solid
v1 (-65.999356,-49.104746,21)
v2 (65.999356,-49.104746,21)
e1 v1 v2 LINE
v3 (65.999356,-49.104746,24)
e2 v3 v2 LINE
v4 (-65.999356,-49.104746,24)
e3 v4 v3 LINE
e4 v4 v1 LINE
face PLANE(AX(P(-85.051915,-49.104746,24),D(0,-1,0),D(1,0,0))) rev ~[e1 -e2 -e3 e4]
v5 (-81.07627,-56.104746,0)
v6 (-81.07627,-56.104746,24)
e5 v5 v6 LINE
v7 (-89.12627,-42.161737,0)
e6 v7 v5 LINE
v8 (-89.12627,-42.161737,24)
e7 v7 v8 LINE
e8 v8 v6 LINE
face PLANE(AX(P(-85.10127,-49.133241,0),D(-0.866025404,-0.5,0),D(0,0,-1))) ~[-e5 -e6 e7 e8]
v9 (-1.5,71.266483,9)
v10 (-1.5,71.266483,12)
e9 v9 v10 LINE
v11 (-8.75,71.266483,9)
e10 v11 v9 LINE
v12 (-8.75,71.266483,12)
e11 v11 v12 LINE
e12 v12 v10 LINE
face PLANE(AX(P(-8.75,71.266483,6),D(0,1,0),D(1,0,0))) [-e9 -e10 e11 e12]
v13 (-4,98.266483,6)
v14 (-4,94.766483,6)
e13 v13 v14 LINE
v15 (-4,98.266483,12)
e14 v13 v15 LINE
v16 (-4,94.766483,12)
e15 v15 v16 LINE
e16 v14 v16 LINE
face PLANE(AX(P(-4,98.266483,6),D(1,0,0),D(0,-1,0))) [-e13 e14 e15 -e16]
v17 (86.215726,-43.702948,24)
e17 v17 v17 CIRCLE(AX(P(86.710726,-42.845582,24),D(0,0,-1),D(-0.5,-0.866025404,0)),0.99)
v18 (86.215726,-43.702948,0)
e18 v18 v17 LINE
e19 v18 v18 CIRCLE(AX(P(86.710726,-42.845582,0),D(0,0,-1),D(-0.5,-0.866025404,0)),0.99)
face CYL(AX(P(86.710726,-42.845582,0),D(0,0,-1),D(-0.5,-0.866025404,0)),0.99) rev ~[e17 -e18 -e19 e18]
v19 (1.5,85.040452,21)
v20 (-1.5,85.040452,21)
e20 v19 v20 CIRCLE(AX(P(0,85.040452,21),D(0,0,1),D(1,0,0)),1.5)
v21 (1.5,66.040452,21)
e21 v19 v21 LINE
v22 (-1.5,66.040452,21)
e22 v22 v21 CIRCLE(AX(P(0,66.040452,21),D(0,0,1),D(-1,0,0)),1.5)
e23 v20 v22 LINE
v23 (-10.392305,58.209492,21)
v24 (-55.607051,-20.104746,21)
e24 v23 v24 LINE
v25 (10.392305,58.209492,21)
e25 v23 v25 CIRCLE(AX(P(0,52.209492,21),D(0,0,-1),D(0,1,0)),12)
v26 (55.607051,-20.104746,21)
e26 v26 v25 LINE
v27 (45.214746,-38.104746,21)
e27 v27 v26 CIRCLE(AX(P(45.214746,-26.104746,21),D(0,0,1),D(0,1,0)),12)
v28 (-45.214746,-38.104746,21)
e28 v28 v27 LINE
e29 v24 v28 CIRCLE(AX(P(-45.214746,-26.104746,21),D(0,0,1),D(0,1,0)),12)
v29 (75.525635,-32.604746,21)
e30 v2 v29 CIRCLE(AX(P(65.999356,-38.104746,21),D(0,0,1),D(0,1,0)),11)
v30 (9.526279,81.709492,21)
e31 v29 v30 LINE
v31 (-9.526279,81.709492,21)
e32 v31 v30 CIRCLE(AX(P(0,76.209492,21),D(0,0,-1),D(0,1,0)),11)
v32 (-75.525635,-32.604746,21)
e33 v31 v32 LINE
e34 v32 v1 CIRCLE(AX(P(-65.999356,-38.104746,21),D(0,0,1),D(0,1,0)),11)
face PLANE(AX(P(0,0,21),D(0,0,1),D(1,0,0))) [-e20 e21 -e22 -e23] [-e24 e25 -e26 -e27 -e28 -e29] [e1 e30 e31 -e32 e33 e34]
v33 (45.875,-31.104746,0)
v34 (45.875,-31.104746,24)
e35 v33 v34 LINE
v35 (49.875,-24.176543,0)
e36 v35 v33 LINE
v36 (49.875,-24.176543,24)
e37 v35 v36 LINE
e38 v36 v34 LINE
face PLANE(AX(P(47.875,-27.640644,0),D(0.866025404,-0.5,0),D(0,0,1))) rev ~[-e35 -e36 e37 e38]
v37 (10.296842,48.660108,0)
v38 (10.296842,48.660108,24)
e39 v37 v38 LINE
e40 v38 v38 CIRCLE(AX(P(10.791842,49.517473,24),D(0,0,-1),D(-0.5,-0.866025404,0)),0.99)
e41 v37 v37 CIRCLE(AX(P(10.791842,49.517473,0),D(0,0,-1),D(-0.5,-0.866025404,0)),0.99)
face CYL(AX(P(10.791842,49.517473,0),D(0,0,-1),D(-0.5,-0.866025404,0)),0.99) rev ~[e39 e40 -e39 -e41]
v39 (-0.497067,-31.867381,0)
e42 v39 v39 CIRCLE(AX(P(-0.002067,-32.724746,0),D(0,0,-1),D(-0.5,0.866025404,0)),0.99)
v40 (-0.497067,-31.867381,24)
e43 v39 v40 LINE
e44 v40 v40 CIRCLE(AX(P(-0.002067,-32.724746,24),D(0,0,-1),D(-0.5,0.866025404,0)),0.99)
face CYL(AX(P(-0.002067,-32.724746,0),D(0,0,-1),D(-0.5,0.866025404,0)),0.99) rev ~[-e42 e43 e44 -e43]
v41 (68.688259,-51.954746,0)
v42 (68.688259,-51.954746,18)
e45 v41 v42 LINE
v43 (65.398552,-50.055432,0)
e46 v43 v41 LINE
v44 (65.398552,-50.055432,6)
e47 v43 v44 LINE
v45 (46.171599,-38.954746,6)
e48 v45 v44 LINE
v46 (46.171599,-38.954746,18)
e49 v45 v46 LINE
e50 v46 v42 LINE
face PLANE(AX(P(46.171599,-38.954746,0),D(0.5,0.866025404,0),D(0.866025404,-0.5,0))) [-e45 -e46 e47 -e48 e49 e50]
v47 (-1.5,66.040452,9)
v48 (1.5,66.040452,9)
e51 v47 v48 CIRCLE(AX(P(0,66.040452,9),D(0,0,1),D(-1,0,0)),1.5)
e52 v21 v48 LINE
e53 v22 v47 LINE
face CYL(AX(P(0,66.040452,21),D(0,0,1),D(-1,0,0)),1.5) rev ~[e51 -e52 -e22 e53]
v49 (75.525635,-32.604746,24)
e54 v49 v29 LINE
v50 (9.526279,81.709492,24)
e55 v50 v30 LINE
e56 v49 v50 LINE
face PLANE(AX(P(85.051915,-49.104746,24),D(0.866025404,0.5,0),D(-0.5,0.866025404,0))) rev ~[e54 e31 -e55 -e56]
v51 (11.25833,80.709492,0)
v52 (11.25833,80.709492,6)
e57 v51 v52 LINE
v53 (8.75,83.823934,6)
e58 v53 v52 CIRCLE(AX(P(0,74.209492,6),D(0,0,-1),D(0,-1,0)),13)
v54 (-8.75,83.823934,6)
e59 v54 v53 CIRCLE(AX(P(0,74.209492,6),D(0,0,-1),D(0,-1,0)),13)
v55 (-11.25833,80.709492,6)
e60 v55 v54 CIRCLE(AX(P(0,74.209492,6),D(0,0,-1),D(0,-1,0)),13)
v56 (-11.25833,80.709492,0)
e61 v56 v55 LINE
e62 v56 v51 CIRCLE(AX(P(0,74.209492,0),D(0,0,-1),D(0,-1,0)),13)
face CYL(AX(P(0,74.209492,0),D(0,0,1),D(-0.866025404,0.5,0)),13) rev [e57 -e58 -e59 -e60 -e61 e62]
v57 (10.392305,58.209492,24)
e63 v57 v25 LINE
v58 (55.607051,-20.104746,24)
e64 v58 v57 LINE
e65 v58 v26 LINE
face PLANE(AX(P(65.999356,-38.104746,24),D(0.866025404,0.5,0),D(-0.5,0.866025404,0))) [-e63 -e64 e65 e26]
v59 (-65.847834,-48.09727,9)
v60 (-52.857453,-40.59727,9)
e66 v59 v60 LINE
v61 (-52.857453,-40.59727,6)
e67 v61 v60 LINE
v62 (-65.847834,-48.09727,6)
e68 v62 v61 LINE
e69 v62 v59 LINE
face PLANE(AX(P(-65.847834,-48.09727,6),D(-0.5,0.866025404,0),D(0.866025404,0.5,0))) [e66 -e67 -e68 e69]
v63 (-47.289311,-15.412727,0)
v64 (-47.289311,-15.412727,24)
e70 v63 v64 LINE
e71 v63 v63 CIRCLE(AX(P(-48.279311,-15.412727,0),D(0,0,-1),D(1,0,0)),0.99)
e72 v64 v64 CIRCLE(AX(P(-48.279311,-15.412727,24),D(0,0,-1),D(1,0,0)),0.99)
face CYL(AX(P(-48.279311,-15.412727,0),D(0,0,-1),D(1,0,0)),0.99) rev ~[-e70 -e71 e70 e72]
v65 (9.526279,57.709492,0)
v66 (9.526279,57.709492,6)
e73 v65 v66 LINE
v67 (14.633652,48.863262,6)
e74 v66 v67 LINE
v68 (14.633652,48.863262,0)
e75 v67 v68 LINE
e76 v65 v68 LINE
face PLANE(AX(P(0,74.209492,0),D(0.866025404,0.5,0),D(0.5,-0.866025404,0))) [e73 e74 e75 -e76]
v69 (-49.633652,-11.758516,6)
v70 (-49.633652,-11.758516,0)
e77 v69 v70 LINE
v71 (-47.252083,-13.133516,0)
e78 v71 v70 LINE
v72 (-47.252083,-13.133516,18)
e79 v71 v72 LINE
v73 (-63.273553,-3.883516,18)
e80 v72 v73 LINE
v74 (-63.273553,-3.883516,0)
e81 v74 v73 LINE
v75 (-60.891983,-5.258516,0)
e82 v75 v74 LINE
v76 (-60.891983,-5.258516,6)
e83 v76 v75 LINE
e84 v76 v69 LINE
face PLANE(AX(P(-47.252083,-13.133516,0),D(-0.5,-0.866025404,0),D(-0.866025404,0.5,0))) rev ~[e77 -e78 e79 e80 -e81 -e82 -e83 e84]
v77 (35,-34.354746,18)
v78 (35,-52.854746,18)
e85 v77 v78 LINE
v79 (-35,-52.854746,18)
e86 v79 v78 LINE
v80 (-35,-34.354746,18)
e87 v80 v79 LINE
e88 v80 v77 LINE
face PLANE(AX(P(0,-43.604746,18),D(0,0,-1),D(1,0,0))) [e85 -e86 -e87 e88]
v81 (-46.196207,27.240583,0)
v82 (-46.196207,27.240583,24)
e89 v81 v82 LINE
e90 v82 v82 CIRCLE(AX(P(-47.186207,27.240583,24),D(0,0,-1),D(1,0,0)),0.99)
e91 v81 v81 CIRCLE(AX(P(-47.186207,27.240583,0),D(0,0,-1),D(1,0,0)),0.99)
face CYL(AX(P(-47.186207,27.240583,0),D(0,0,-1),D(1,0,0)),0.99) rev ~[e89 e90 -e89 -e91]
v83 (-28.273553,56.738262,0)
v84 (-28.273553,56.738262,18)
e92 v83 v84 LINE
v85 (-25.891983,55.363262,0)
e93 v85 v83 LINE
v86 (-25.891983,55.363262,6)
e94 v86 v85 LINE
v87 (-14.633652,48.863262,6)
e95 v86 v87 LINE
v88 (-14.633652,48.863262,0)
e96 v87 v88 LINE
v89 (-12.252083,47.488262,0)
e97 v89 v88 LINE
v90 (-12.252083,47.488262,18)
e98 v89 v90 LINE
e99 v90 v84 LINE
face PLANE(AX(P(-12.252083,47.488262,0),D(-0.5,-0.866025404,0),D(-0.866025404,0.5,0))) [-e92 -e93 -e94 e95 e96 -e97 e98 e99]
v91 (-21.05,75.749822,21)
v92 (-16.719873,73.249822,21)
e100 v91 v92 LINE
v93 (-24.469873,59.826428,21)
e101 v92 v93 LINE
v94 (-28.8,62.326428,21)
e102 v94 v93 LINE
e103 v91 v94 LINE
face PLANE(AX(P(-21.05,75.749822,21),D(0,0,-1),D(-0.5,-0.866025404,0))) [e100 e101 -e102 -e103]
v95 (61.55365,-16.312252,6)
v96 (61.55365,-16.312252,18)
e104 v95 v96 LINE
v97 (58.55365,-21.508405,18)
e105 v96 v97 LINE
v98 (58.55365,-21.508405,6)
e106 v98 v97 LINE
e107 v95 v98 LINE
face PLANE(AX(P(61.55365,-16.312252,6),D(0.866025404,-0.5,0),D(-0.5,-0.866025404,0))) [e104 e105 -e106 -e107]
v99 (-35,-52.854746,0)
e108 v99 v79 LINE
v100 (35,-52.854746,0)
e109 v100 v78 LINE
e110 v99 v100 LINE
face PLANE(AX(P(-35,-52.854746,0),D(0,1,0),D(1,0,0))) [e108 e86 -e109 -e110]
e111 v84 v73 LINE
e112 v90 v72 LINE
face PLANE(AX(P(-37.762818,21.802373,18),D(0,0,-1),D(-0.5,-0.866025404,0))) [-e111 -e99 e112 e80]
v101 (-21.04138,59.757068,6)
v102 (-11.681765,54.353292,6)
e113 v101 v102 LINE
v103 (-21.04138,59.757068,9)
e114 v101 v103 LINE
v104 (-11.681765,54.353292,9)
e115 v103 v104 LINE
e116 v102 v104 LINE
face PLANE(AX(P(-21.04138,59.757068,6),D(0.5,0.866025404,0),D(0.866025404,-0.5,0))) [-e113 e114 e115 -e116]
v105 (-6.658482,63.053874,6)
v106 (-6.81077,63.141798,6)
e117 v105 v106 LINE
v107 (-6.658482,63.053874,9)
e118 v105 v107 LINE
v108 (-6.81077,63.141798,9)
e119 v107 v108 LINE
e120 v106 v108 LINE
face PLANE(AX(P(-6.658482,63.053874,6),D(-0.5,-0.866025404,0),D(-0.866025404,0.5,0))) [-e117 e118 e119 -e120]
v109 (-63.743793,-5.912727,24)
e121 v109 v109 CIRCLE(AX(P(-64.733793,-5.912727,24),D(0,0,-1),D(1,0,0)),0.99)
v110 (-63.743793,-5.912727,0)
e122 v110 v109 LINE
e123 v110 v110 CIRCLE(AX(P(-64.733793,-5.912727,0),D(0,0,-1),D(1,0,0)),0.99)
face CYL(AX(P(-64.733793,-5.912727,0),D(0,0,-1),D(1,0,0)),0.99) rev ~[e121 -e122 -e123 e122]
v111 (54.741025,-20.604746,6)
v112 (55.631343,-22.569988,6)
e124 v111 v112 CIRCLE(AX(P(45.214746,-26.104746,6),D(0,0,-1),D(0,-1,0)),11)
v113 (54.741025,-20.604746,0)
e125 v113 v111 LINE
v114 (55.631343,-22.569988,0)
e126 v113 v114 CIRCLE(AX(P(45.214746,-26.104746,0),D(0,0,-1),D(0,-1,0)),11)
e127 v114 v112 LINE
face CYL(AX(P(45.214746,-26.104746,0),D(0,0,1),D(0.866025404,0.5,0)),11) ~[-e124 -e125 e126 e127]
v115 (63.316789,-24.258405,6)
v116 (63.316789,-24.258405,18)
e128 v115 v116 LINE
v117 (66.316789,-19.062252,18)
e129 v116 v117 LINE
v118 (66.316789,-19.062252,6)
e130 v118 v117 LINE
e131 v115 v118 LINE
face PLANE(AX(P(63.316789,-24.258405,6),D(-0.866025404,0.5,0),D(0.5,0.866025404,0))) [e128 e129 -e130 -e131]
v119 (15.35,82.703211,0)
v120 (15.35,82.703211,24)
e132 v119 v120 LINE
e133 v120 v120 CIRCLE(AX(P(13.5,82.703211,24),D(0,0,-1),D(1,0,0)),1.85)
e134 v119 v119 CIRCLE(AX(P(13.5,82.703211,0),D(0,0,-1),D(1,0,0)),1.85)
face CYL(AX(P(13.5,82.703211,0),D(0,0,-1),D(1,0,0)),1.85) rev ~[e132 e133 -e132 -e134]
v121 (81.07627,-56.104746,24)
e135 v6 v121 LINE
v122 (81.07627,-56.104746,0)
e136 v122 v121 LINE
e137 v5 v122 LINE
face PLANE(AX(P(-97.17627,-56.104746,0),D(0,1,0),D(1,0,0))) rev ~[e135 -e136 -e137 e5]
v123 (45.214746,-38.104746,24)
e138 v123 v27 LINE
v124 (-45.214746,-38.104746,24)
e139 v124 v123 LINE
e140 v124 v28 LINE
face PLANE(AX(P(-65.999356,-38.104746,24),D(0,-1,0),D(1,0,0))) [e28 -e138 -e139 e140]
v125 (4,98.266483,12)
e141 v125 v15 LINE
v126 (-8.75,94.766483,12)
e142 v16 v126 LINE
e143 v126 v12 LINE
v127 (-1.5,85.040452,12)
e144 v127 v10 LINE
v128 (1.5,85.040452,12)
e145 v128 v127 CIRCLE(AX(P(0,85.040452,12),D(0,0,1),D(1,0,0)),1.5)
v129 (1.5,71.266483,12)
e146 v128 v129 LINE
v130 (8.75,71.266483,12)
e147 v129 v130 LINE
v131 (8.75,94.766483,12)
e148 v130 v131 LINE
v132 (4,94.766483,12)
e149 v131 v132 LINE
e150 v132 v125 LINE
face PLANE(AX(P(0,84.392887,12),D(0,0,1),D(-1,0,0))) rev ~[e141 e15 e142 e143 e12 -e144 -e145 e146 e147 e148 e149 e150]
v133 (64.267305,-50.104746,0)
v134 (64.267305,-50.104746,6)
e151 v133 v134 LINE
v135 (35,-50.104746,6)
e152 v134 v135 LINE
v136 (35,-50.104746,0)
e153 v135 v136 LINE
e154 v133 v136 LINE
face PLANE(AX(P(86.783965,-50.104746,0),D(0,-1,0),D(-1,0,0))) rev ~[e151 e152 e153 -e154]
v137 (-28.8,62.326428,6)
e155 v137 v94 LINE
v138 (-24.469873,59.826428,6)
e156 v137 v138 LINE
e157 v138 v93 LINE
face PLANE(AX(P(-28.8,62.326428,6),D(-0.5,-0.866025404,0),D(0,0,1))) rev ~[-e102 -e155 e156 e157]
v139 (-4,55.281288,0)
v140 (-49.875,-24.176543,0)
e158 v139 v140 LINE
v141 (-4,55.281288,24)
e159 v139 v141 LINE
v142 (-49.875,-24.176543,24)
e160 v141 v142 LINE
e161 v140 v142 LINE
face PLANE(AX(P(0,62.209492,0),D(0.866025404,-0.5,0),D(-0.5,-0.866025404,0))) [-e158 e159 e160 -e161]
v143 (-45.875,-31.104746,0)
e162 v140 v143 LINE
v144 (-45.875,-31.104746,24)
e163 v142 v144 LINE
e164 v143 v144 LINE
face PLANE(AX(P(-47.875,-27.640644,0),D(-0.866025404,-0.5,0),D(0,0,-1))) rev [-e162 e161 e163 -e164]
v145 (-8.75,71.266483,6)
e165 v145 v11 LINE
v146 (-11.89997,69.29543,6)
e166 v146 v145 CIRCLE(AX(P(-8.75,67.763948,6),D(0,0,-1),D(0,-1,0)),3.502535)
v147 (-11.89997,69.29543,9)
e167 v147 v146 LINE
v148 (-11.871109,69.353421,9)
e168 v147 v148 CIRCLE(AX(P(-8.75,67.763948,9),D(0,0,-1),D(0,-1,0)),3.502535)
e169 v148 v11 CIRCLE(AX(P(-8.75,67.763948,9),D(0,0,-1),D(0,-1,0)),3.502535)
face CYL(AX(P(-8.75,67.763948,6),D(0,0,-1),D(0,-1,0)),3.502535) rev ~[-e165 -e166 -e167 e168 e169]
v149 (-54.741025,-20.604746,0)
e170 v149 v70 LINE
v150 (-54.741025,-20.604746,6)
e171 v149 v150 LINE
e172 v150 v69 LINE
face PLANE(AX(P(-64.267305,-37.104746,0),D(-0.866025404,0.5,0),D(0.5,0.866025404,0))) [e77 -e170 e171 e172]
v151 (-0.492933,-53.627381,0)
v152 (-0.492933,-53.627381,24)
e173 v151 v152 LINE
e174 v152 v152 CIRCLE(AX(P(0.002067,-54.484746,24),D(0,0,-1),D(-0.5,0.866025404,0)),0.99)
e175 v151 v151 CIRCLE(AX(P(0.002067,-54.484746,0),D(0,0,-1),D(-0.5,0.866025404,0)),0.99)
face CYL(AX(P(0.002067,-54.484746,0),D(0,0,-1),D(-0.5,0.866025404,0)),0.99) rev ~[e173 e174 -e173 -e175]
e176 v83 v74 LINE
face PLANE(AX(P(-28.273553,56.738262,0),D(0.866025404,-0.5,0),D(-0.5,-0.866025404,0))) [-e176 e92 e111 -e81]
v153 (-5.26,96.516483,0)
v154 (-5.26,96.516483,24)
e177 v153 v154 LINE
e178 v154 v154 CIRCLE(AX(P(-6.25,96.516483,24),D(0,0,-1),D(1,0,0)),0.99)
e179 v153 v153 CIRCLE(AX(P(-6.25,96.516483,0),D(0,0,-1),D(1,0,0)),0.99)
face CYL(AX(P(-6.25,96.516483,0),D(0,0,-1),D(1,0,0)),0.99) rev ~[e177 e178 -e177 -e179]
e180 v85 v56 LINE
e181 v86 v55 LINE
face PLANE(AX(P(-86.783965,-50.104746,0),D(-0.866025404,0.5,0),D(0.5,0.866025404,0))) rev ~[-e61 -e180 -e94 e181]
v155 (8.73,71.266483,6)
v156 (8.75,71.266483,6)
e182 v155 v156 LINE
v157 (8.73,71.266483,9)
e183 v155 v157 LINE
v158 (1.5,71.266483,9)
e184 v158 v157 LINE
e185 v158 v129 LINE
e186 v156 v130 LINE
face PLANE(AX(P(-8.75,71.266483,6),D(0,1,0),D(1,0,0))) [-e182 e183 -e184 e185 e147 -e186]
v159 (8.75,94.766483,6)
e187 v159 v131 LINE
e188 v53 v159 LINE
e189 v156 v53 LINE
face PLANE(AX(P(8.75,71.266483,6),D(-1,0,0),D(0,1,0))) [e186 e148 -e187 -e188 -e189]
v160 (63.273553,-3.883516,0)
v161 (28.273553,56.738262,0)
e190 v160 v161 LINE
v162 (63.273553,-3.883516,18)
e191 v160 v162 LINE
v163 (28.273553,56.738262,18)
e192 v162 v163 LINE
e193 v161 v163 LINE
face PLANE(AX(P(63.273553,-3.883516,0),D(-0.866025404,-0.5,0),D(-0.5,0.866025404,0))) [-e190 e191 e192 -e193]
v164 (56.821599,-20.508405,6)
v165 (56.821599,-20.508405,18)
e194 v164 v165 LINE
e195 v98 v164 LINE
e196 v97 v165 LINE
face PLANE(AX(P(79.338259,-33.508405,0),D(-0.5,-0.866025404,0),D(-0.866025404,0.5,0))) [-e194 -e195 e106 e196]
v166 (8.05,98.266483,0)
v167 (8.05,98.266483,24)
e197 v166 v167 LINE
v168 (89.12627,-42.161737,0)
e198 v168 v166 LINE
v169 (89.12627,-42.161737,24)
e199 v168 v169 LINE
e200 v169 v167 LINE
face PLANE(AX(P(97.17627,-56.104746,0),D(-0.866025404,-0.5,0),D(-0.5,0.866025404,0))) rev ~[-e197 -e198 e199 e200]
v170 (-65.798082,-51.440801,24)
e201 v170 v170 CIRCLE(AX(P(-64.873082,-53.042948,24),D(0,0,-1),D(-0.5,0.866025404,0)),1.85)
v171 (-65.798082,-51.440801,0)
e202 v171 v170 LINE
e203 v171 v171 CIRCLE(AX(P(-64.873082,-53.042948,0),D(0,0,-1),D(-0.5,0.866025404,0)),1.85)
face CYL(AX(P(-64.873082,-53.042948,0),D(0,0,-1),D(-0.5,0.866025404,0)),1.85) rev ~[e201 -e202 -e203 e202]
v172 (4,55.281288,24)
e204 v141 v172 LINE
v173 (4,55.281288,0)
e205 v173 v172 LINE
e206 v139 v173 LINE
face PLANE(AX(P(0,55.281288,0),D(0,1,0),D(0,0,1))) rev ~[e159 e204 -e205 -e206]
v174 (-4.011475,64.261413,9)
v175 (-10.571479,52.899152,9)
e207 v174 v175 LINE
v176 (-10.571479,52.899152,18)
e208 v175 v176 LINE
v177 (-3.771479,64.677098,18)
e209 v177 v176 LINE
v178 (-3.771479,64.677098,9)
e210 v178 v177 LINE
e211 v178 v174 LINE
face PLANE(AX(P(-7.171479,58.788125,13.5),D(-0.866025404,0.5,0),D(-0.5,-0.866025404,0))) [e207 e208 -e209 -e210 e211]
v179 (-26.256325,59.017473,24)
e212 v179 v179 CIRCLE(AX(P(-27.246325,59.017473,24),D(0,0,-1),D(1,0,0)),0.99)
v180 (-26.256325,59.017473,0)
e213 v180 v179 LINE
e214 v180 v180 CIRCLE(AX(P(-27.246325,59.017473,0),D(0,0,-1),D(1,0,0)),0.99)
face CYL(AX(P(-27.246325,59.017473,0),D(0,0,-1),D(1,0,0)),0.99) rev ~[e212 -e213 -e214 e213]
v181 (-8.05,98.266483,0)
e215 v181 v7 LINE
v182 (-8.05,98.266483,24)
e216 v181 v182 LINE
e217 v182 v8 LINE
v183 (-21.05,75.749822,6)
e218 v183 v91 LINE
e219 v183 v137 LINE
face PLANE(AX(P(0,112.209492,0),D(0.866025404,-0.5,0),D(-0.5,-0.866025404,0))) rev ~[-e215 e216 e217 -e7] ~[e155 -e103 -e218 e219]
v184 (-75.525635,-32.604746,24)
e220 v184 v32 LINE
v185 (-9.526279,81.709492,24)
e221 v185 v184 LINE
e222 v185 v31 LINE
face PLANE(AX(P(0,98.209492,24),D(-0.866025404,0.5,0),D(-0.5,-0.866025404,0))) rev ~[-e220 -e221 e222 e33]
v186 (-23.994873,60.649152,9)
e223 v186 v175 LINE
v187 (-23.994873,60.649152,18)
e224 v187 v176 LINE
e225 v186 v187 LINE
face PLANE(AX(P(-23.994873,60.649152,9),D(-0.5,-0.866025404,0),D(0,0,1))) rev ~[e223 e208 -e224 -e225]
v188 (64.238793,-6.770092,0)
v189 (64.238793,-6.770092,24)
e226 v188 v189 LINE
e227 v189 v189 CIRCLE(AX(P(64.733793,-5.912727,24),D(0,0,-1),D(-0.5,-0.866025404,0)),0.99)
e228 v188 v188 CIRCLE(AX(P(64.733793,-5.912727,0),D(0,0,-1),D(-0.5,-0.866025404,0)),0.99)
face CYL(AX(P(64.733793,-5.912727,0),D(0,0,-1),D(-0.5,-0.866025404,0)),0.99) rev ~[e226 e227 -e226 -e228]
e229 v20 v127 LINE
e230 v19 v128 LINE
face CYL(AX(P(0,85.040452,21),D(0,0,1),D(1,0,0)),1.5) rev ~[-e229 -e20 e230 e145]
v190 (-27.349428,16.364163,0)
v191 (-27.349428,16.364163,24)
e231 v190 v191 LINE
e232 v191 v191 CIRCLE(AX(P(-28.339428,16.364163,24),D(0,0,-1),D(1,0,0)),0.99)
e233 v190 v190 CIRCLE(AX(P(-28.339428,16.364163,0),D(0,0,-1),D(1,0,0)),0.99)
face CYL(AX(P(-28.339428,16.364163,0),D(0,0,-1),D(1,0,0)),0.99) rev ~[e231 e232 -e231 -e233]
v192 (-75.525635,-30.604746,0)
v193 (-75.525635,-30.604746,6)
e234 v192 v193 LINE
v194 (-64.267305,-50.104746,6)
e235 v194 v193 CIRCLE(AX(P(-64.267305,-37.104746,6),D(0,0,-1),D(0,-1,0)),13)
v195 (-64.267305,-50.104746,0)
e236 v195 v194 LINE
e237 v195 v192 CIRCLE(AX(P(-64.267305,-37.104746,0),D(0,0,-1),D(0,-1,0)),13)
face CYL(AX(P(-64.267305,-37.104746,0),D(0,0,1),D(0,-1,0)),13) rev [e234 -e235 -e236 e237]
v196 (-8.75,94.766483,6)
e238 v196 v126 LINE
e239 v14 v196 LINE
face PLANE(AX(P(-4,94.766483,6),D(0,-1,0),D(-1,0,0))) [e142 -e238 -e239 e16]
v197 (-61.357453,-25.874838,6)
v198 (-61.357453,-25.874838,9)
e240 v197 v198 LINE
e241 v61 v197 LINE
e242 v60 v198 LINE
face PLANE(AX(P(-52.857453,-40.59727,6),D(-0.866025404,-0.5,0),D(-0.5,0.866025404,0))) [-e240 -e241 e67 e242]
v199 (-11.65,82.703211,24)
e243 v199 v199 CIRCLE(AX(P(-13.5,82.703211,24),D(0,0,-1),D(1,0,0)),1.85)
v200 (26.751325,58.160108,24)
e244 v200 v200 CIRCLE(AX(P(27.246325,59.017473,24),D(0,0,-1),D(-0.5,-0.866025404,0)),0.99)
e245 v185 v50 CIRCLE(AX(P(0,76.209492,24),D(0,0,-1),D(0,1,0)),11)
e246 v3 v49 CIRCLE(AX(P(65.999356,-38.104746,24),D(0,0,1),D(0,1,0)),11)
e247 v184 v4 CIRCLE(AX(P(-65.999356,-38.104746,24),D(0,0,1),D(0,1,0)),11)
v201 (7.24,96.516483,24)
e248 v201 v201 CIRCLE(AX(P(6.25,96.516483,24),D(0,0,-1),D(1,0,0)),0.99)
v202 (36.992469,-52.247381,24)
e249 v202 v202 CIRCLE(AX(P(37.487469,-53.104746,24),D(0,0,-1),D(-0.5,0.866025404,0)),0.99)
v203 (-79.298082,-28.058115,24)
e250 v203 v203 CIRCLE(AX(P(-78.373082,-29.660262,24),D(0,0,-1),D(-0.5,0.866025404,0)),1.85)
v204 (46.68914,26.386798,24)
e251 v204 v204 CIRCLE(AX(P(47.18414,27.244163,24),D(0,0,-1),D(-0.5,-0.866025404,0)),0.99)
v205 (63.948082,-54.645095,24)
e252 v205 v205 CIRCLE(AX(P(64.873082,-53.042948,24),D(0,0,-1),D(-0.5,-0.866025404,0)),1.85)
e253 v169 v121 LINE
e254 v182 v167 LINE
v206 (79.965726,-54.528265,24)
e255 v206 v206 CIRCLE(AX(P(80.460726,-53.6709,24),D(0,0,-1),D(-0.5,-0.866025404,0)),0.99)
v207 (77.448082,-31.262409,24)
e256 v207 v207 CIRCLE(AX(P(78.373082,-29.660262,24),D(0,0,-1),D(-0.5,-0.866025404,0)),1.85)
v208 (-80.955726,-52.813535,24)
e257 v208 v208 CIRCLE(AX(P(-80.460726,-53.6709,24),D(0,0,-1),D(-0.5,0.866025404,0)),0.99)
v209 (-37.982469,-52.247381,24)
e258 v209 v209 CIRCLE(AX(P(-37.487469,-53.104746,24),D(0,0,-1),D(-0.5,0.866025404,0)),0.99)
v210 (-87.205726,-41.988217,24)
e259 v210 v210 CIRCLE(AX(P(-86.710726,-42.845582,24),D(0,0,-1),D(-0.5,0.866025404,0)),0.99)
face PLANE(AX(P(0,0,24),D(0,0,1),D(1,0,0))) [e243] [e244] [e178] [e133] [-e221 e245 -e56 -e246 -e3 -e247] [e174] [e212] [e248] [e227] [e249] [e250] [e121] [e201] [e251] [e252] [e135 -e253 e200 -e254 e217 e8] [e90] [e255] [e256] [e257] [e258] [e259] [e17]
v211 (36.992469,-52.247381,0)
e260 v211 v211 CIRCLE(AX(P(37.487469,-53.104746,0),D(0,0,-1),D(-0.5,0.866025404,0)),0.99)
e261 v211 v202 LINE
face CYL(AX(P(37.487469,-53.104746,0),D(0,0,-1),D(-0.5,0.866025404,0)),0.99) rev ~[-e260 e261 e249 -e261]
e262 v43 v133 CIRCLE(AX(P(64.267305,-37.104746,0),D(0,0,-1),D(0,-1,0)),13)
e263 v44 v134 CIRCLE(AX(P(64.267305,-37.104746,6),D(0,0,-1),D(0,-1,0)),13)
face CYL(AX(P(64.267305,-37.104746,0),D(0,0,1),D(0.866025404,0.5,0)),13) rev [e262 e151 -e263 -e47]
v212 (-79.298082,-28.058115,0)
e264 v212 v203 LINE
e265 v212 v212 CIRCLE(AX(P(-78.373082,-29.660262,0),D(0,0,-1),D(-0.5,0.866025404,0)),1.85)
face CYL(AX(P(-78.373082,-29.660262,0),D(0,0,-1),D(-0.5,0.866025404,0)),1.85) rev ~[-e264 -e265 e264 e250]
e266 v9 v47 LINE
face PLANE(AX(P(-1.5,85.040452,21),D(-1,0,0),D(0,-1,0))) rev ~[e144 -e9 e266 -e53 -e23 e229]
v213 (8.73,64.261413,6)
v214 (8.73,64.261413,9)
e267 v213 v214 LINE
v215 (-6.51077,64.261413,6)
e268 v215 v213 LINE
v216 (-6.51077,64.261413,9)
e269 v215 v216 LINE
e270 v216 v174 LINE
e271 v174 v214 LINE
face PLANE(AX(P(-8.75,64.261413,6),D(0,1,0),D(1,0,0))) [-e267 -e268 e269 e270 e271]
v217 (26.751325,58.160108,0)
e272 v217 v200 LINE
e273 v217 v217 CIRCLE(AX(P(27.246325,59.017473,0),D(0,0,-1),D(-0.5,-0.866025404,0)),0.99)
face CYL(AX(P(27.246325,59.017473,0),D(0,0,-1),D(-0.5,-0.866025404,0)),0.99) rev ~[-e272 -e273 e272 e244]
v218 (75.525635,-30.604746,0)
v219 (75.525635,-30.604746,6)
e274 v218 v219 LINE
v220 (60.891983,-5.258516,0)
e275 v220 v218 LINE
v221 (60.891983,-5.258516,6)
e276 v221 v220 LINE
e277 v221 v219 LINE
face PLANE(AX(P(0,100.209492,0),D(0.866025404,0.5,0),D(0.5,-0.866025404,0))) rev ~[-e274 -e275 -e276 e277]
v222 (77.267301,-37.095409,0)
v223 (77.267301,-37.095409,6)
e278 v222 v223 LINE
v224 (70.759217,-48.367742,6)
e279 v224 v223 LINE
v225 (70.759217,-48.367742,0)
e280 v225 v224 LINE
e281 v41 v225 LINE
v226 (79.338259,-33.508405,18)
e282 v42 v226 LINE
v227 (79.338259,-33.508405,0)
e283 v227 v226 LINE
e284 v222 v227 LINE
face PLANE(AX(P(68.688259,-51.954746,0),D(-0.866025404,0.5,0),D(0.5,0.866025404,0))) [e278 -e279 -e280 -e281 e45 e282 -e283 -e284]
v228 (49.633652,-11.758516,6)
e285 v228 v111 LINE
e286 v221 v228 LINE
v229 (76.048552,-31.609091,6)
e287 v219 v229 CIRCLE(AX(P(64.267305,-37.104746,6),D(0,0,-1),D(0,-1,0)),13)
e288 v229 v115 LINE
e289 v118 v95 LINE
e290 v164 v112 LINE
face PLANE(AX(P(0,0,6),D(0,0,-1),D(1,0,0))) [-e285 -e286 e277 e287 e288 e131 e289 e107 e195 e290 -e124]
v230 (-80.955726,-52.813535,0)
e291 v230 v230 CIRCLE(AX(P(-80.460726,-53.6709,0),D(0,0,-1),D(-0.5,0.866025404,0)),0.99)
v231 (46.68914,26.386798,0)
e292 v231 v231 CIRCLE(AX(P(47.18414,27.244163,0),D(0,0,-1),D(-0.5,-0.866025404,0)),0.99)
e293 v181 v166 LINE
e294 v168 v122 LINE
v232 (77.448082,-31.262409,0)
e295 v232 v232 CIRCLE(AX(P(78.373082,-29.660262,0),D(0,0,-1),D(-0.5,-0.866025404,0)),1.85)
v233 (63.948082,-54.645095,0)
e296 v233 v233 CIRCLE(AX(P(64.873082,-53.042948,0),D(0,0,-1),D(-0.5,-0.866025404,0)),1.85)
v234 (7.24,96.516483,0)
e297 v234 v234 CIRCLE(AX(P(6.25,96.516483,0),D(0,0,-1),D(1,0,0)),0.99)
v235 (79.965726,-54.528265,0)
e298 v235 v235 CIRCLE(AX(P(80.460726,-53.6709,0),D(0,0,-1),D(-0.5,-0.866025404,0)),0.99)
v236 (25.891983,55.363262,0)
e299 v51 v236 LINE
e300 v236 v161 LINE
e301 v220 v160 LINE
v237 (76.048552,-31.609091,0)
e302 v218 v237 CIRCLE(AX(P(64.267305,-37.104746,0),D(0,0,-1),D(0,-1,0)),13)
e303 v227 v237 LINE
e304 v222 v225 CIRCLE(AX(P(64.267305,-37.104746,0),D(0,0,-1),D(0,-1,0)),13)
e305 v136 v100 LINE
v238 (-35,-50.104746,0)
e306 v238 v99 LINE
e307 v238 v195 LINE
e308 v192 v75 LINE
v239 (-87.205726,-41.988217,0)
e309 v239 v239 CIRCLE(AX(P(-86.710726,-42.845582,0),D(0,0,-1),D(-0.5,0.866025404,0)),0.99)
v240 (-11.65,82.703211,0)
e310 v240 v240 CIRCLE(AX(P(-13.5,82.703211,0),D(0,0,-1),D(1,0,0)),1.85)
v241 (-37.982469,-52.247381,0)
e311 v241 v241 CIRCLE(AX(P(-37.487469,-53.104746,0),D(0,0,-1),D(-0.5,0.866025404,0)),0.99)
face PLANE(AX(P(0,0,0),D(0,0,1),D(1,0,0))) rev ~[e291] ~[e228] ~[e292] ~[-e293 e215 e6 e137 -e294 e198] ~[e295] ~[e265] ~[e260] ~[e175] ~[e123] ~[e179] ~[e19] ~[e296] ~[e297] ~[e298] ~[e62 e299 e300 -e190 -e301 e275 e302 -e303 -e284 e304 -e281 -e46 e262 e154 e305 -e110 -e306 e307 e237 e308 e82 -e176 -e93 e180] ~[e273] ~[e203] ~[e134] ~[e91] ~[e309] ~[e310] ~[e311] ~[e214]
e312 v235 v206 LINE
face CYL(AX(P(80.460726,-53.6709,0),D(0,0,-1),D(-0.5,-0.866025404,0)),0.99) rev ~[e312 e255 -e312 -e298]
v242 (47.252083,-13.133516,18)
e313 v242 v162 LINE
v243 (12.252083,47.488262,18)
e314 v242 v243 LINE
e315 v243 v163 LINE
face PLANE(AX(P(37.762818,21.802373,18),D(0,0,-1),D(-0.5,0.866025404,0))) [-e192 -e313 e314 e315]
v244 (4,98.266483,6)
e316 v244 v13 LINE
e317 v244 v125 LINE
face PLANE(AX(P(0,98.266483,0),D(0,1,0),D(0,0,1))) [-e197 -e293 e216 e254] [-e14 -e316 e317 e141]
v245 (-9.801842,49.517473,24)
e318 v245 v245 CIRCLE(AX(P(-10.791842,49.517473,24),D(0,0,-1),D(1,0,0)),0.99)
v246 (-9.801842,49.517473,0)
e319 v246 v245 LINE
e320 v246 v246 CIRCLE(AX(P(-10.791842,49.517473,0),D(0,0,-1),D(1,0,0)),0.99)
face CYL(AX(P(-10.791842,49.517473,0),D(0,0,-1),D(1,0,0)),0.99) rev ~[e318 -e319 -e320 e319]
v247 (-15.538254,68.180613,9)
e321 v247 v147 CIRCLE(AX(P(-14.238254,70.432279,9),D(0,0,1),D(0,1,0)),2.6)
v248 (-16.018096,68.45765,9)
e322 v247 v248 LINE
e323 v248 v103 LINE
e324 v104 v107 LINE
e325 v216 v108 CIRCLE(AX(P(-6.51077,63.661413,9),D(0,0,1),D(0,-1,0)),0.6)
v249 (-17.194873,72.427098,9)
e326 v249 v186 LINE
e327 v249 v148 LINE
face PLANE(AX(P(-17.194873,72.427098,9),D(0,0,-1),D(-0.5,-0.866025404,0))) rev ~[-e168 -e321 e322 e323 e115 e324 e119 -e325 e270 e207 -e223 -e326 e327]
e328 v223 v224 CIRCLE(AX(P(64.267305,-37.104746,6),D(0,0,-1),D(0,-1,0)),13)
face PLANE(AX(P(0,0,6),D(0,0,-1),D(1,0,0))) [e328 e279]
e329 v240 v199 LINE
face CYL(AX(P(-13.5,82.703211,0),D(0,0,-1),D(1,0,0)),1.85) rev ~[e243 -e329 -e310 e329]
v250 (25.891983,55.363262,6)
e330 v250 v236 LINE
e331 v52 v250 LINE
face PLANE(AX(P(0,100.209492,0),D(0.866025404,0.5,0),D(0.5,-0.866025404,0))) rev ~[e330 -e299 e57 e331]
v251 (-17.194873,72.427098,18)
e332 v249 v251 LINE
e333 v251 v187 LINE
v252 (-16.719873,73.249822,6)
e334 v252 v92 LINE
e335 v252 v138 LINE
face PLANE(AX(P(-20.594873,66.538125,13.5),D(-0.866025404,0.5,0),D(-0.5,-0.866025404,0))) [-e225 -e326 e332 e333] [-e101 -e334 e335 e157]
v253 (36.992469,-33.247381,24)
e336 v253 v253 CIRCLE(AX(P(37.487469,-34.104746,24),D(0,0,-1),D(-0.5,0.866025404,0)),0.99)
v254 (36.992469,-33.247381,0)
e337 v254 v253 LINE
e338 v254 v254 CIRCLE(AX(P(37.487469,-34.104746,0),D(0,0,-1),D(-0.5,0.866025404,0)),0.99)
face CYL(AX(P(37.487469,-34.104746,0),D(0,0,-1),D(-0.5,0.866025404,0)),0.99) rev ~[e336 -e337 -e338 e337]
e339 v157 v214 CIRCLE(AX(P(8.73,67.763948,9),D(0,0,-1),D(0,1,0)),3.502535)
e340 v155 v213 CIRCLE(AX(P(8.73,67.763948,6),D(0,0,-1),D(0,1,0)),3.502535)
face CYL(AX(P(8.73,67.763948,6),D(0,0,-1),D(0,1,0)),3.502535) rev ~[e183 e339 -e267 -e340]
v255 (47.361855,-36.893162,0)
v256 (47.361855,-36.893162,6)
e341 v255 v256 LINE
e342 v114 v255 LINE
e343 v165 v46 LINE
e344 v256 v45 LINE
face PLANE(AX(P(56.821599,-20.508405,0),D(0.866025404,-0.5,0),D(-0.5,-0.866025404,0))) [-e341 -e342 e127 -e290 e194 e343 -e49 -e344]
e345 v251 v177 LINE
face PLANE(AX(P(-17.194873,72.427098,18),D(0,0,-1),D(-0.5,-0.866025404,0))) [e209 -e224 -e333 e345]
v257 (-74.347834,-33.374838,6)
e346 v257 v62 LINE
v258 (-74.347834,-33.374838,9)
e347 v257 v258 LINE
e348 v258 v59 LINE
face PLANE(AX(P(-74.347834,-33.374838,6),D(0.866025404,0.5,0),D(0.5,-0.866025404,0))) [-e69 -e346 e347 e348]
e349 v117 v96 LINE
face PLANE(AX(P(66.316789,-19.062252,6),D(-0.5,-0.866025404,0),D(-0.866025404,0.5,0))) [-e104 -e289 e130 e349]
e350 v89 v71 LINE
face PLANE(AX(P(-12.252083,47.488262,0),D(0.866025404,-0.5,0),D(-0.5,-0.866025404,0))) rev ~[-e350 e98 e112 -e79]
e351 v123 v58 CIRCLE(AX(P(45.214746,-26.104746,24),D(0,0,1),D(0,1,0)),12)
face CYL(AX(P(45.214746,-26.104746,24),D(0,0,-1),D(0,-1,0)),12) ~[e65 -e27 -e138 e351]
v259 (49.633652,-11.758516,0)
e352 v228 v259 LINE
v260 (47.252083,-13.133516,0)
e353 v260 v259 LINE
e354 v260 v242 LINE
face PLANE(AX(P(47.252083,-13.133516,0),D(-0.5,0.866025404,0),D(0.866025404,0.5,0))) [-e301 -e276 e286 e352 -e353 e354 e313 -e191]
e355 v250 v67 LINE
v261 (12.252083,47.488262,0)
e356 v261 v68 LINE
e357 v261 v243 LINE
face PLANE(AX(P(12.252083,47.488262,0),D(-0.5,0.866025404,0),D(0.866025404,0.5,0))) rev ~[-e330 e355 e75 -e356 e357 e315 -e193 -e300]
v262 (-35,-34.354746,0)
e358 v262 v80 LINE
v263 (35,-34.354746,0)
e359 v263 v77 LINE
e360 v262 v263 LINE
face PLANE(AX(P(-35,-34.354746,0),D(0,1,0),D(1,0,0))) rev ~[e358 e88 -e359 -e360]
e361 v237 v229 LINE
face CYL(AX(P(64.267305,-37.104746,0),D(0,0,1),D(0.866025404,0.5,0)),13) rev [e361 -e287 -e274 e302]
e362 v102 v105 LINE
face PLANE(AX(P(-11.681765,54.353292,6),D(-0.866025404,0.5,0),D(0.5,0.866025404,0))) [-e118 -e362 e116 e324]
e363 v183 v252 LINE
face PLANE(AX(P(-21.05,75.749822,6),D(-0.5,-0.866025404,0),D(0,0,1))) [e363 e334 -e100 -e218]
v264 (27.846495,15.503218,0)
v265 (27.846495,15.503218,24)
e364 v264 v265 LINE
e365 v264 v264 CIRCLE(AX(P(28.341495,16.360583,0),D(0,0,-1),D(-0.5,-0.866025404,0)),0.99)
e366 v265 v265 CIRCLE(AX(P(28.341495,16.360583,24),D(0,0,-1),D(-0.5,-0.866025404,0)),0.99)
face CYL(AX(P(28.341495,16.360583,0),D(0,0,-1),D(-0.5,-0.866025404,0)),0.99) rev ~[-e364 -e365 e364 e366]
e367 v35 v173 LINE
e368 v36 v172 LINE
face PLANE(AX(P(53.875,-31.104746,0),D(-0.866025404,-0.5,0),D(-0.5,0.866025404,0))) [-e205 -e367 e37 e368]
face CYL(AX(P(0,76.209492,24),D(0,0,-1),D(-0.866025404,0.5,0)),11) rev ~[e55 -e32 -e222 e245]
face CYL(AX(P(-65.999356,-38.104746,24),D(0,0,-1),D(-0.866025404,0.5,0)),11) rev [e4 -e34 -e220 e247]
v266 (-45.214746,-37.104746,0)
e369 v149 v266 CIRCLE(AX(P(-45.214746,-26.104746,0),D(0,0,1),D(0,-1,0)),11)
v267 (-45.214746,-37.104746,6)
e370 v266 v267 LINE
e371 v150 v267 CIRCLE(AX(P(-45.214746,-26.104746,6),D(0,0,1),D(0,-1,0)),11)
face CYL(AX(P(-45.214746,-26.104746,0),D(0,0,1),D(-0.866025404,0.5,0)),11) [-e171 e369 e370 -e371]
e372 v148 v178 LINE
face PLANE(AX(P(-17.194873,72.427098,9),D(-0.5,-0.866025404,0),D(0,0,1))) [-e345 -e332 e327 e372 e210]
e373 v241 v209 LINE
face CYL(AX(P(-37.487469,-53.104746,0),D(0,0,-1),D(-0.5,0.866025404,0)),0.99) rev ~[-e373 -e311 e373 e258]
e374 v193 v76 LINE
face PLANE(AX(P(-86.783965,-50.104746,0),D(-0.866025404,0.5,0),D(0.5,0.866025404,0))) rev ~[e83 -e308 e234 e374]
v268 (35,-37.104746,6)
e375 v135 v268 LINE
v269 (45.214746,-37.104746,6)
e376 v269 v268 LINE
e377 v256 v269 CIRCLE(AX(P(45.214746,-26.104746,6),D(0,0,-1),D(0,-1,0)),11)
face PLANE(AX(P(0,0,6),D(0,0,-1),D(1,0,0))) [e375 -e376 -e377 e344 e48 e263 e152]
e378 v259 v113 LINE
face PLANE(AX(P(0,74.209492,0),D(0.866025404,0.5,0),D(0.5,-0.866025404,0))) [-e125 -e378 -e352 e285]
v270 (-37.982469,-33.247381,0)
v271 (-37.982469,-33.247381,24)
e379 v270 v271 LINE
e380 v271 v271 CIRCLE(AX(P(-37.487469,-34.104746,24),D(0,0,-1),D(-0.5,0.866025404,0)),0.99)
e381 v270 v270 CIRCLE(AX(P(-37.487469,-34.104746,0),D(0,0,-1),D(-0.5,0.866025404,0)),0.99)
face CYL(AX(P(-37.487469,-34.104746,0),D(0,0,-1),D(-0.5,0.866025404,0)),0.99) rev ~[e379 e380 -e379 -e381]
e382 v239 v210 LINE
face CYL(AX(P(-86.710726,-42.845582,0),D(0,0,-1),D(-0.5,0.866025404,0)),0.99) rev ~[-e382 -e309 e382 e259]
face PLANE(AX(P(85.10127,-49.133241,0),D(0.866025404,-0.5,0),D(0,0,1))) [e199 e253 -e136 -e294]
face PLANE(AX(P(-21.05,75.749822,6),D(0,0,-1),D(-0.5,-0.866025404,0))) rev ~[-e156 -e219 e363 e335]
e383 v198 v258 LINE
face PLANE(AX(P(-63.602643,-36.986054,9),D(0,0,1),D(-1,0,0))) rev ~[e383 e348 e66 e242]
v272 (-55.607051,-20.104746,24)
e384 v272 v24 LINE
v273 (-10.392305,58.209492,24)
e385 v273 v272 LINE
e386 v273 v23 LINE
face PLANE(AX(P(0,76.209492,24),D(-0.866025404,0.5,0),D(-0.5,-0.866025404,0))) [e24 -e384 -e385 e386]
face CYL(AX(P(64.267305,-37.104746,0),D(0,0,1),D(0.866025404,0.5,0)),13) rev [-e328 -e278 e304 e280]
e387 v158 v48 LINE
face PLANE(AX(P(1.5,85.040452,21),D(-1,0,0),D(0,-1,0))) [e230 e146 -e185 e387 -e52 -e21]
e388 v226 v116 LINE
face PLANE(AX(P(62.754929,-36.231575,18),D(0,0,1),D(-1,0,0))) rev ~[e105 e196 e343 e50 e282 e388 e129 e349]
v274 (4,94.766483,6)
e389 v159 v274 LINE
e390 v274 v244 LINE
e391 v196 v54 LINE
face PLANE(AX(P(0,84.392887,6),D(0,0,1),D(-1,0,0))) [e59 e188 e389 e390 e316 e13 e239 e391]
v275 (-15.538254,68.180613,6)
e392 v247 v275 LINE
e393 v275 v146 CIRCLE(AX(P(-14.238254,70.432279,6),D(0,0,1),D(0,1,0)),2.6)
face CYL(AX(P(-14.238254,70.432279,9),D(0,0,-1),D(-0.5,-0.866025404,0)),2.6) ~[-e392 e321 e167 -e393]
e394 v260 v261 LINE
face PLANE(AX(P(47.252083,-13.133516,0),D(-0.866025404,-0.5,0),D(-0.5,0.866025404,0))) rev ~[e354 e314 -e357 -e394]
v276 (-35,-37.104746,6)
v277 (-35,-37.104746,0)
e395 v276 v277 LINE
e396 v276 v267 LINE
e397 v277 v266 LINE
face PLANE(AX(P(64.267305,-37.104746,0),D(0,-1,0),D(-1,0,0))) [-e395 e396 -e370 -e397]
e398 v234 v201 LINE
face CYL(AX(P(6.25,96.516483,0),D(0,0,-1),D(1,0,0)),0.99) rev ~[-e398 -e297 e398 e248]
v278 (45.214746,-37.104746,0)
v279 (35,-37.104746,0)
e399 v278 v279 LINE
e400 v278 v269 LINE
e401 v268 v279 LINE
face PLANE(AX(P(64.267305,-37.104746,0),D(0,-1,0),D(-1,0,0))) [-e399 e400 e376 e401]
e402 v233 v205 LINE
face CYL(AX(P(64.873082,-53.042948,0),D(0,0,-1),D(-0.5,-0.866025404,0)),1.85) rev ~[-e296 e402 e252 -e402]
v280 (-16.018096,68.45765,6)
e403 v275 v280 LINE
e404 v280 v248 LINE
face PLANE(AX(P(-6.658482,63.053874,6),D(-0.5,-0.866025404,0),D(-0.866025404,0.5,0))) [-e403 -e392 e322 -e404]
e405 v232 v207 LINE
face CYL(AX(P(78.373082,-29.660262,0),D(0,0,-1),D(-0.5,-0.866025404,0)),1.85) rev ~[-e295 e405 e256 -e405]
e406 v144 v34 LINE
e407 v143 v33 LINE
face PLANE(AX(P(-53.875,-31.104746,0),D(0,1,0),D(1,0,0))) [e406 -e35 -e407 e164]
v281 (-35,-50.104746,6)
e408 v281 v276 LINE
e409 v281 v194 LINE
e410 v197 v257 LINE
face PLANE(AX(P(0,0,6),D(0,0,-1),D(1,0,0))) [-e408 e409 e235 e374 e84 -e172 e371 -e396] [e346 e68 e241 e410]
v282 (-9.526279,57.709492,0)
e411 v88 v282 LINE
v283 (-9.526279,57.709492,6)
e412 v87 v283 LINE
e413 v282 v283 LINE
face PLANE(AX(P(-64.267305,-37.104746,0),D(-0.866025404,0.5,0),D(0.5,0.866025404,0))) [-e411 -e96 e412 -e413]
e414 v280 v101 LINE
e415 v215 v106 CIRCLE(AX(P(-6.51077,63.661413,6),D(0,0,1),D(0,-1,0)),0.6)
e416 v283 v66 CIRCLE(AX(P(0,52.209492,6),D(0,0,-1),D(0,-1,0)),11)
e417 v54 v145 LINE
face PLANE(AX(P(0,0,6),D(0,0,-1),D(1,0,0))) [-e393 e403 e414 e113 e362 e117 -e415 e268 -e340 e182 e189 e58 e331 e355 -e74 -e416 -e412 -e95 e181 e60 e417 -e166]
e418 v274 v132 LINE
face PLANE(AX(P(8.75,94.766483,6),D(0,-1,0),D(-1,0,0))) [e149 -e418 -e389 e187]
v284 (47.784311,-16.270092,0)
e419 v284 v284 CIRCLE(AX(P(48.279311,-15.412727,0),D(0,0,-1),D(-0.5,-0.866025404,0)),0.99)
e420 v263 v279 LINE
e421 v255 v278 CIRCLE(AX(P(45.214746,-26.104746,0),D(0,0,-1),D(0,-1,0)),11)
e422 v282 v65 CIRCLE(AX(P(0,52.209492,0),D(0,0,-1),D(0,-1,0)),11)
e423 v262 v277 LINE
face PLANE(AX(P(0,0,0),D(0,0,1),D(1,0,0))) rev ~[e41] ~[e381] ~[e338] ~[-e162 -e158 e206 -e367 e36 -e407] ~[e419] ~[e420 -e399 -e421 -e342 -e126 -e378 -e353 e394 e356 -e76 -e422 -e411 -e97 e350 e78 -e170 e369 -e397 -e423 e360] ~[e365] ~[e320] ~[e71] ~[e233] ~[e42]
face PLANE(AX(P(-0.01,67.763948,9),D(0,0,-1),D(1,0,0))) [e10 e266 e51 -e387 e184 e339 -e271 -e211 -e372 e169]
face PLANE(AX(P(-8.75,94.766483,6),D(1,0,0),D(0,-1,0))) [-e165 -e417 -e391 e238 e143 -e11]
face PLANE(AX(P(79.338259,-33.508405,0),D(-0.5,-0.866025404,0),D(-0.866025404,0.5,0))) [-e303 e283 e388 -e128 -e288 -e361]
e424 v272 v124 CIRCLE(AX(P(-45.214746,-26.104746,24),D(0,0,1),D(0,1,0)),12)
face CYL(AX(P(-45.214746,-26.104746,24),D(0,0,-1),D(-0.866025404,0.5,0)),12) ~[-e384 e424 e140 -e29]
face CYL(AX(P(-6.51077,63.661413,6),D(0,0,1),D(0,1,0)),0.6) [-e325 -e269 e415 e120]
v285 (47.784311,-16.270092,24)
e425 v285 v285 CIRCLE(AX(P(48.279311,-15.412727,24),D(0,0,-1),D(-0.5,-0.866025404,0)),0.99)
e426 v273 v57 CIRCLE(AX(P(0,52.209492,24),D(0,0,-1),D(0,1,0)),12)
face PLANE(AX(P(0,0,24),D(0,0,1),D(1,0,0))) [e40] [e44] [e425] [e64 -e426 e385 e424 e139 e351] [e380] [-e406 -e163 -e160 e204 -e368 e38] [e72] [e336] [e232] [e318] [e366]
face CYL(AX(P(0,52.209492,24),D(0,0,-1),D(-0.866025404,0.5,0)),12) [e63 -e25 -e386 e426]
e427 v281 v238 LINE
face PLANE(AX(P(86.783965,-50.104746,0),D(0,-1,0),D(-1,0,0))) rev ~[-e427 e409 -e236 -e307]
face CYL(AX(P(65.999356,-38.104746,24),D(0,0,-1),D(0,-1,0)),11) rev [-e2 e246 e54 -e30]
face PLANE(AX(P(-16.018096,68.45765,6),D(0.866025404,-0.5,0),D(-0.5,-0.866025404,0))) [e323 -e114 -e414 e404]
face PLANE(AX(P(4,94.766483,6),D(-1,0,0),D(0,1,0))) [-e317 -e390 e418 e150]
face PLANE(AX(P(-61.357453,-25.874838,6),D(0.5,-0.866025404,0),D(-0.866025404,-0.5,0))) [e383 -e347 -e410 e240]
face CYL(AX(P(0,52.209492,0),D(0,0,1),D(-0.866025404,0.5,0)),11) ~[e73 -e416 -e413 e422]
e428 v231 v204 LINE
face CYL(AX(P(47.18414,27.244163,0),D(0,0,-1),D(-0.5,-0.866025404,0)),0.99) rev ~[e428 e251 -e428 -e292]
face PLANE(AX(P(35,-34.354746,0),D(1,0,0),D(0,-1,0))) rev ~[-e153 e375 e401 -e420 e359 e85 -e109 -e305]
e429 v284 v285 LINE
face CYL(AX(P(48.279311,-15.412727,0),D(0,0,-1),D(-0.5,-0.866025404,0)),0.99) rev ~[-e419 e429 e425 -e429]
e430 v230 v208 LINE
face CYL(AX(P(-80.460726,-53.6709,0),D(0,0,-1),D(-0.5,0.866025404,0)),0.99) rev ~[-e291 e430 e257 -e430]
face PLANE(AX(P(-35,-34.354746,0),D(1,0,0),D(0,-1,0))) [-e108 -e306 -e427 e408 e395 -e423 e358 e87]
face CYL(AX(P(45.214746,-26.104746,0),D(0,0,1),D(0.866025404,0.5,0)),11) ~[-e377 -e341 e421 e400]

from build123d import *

# Parameters (mm, degrees)
PAD_DEPTH             = 24
POCKET_DEPTH          = 3
SKETCH002_W           = 70
SKETCH002_H           = 18.5
POCKET001_DEPTH       = 18
POLARPATTERN_COUNT    = 3
POCKET002_DEPTH       = 6
CHAMFER_SIZE          = 8
FILLET_R              = 13
FILLET001_R           = 11
CHAMFER001_SIZE       = 16.1
FILLET002_R           = 11
FILLET003_R           = 12
POCKET003_DEPTH       = 6
POCKET004_DEPTH       = 18
POCKET005_DEPTH       = 21.001
SKETCH007_W           = 15.5
SKETCH007_H           = 15
POCKET006_DEPTH       = 5
SKETCH010_W           = 13.6
SKETCH010_H           = 9
POCKET009_DEPTH       = 15.5
POCKET010_DEPTH       = 3
SKETCH012_R           = 1.85
SKETCH012_R_2         = 0.99
POCKET011_DEPTH       = 498.0492855781
POLARPATTERN001_COUNT = 3
POCKET012_DEPTH       = 12
POCKET013_DEPTH       = 3
POCKET014_DEPTH       = 3
FILLET004_R           = 0.6
FILLET005_R           = 2.6


with BuildPart() as part:
    # Sketch → Pad (new body)
    with BuildSketch(Plane.XY):
        Polygon((0, 112.2094915052), (-97.1762701892, -56.1047457526), (97.1762701892, -56.1047457526), align=None)
        Polygon((0, 62.2094915052), (-53.875, -31.1047457526), (53.875, -31.1047457526), align=None, mode=Mode.SUBTRACT)
    extrude(amount=PAD_DEPTH)

    # Sketch001 (on Face8 of Pad) → Pocket (cut)
    with BuildSketch(Plane.XY.offset(24)):
        Polygon((0, 98.2094915052), (-85.0519145362, -49.1047457526), (85.0519145362, -49.1047457526), align=None)
        Polygon((0, 76.2094915052), (-65.999355653, -38.1047457526), (65.999355653, -38.1047457526), align=None, mode=Mode.SUBTRACT)
    extrude(amount=-POCKET_DEPTH, mode=Mode.SUBTRACT)

    # Sketch002 (on Face4 of Pocket) → Pocket001 (cut)
    with BuildSketch(Plane(origin=(0, 0, 0), x_dir=(1, 0, 0), z_dir=(0, 0, -1))):
        with Locations((0, 43.6047457526)):
            Rectangle(SKETCH002_W, SKETCH002_H)
    pocket001 = extrude(amount=-POCKET001_DEPTH, mode=Mode.SUBTRACT)

    # PolarPattern: Pocket001 ×3 about axis
    polarpattern_axis = Axis((0, 0, 0), (0, 0, -1))
    for i in range(1, POLARPATTERN_COUNT):
        add(pocket001.rotate(polarpattern_axis, i * 360 / POLARPATTERN_COUNT), mode=Mode.SUBTRACT)

    # Sketch003 (on Face4 of PolarPattern) → Pocket002 (cut)
    with BuildSketch(Plane(origin=(0, 0, 0), x_dir=(1, 0, 0), z_dir=(0, 0, -1))):
        Polygon((0, -100.2094915052), (86.7839653438, 50.1047457526), (-86.7839653438, 50.1047457526), align=None)
        Polygon((0, -74.2094915052), (64.2673048454, 37.1047457526), (-64.2673048454, 37.1047457526), align=None, mode=Mode.SUBTRACT)
    extrude(amount=-POCKET002_DEPTH, mode=Mode.SUBTRACT)

    # Chamfer
    chamfer_edges = [part.edges().sort_by_distance(p)[0] for p in [
        (-53.875, -31.104746, 12),
        (53.875, -31.104746, 12),
        (0, 62.209492, 12),
    ]]
    chamfer(chamfer_edges, length=CHAMFER_SIZE)

    # Fillet
    fillet_edges = [part.edges().sort_by_distance(p)[0] for p in [
        (0, 100.209492, 3),
        (-86.783965, -50.104746, 3),
        (86.783965, -50.104746, 3),
    ]]
    fillet(fillet_edges, radius=FILLET_R)

    # Fillet001
    fillet001_edges = [part.edges().sort_by_distance(p)[0] for p in [
        (0, 74.209492, 3),
        (64.267305, -37.104746, 3),
        (-64.267305, -37.104746, 3),
    ]]
    fillet(fillet001_edges, radius=FILLET001_R)

    # Chamfer001
    chamfer001_edges = [part.edges().sort_by_distance(p)[0] for p in [
        (97.17627, -56.104746, 12),
        (0, 112.209492, 12),
        (-97.17627, -56.104746, 12),
    ]]
    chamfer(chamfer001_edges, length=CHAMFER001_SIZE)

    # Fillet002
    fillet002_edges = [part.edges().sort_by_distance(p)[0] for p in [
        (0, 98.209492, 22.5),
        (-85.051915, -49.104746, 22.5),
        (85.051915, -49.104746, 22.5),
    ]]
    fillet(fillet002_edges, radius=FILLET002_R)

    # Fillet003
    fillet003_edges = [part.edges().sort_by_distance(p)[0] for p in [
        (65.999356, -38.104746, 22.5),
        (0, 76.209492, 22.5),
        (-65.999356, -38.104746, 22.5),
    ]]
    fillet(fillet003_edges, radius=FILLET003_R)

    # Sketch004 (on Face60 of Fillet003) → Pocket003 (cut)
    with BuildSketch(Plane(origin=(0, 0, 6), x_dir=(1, 0, 0), z_dir=(0, 0, -1))):
        Polygon((-8.75, -71.2664825043), (8.75, -71.2664825043), (8.75, -94.7664825043), (4, -94.7664825043), (4, -98.2664825043), (-4, -98.2664825043), (-4, -94.7664825043), (-8.75, -94.7664825043), align=None)
    extrude(amount=-POCKET003_DEPTH, mode=Mode.SUBTRACT)

    # Sketch005 (on Face29 of Pocket003) → Pocket004 (cut)
    with BuildSketch(Plane(origin=(0, 0, 0), x_dir=(1, 0, 0), z_dir=(0, 0, -1))):
        Polygon((46.1715988394, 38.9547457526), (68.6882593378, 51.9547457526), (79.3382593378, 33.508404652), (56.8215988394, 20.508404652), align=None)
    extrude(amount=-POCKET004_DEPTH, mode=Mode.SUBTRACT)

    # Sketch006 (on Face1 of Pocket004) → Pocket005 (cut, through all)
    with BuildSketch(Plane.XY.offset(21)):
        with BuildLine():
            ThreePointArc((1.5, 85.0404521425), (0, 86.5404521425), (-1.5, 85.0404521425))
            Line((-1.5, 85.0404521425), (-1.5, 66.0404521425))
            ThreePointArc((-1.5, 66.0404521425), (0, 64.5404521425), (1.5, 66.0404521425))
            Line((1.5, 85.0404521425), (1.5, 66.0404521425))
        make_face()
    extrude(amount=-POCKET005_DEPTH, mode=Mode.SUBTRACT)

    # Sketch007 (on Face24 of Pocket005) → Pocket006 (cut)
    with BuildSketch(Plane(origin=(-48.5881350946, 28.0523728763, 0), x_dir=(-0.5, -0.8660254038, 0), z_dir=(-0.8660254038, 0.5, 0))):
        with Locations((-47.3262701892, 13.5)):
            Rectangle(SKETCH007_W, SKETCH007_H)
    extrude(amount=-POCKET006_DEPTH, mode=Mode.SUBTRACT)

    # Sketch010 (on Face79 of Pocket006) → Pocket009 (cut)
    with BuildSketch(Plane(origin=(-44.2580080757, 25.5523728763, 0), x_dir=(-0.5, -0.8660254038, 0), z_dir=(-0.8660254038, 0.5, 0))):
        with Locations((-47.3262701892, 13.5)):
            Rectangle(SKETCH010_W, SKETCH010_H)
    extrude(amount=-POCKET009_DEPTH, mode=Mode.SUBTRACT)

    # Sketch011 (on Face21 of Pocket009) → Pocket010 (cut)
    with BuildSketch(Plane(origin=(0, 0, 6), x_dir=(1, 0, 0), z_dir=(0, 0, -1))):
        Polygon((-21.0413798427, -59.7570681827), (-11.6817654684, -54.3532923042), (-6.658482036, -63.0538744299), (-16.0180964103, -68.4576503084), align=None)
    extrude(amount=-POCKET010_DEPTH, mode=Mode.SUBTRACT)

    # Sketch012 (on Face54 of Pocket010) → Pocket011 (cut, through all)
    with BuildSketch(Plane(origin=(0, 0, 0), x_dir=(1, 0, 0), z_dir=(0, 0, -1))):
        with Locations((-13.5, -82.7032108255)):
            Circle(SKETCH012_R)
        with Locations((13.5, -82.7032108255)):
            Circle(SKETCH012_R)
        with Locations((-6.25, -96.5164825043)):
            Circle(SKETCH012_R_2)
        with Locations((6.25, -96.5164825043)):
            Circle(SKETCH012_R_2)
        with Locations((-27.2463245869, -59.0174730012)):
            Circle(SKETCH012_R_2)
        with Locations((-47.1862074814, -27.2405827309)):
            Circle(SKETCH012_R_2)
        with Locations((-64.7337931796, 5.9127272486)):
            Circle(SKETCH012_R_2)
        with Locations((-10.791841915, -49.5174730012)):
            Circle(SKETCH012_R_2)
        with Locations((-28.3394276132, -16.3641630217)):
            Circle(SKETCH012_R_2)
        with Locations((-48.2793105078, 15.4127272487)):
            Circle(SKETCH012_R_2)
    pocket011 = extrude(amount=-POCKET011_DEPTH, mode=Mode.SUBTRACT)

    # PolarPattern001: Pocket011 ×3 about axis
    polarpattern001_axis = Axis((0, 0, 0), (0, 0, -1))
    for i in range(1, POLARPATTERN001_COUNT):
        add(pocket011.rotate(polarpattern001_axis, i * 360 / POLARPATTERN001_COUNT), mode=Mode.SUBTRACT)

    # Sketch013 (on Face132 of PolarPattern001) → Pocket012 (cut)
    with BuildSketch(Plane(origin=(0, 0, 6), x_dir=(1, 0, 0), z_dir=(0, 0, -1))):
        Polygon((58.553649647, 21.508404652), (63.3167893678, 24.258404652), (66.3167893678, 19.0622522293), (61.553649647, 16.3122522293), align=None)
    extrude(amount=-POCKET012_DEPTH, mode=Mode.SUBTRACT)

    # Sketch014 (on Face127 of Pocket012) → Pocket013 (cut)
    with BuildSketch(Plane(origin=(0, 0, 6), x_dir=(1, 0, 0), z_dir=(0, 0, -1))):
        Polygon((-74.3478338252, 33.3748379063), (-65.8478338252, 48.0972697706), (-52.8574527684, 40.5972697706), (-61.3574527684, 25.8748379063), align=None)
    extrude(amount=-POCKET013_DEPTH, mode=Mode.SUBTRACT)

    # Sketch015 (on Face21 of Pocket013) → Pocket014 (cut)
    with BuildSketch(Plane(origin=(0, 0, 6), x_dir=(1, 0, 0), z_dir=(0, 0, -1))):
        with BuildLine():
            ThreePointArc((-8.75, -64.2614128894), (-12.2525348074, -67.7639476968), (-8.75, -71.2664825043))
            Line((-8.75, -71.2664825043), (8.73, -71.2664825043))
            ThreePointArc((8.73, -71.2664825043), (12.2325348074, -67.7639476968), (8.73, -64.2614128894))
            Line((-8.75, -64.2614128894), (8.73, -64.2614128894))
        make_face()
    extrude(amount=-POCKET014_DEPTH, mode=Mode.SUBTRACT)

    # Fillet004
    fillet004_edges = [part.edges().sort_by_distance(p)[0] for p in [
        (-8.75, 64.261413, 7.5),
    ]]
    fillet(fillet004_edges, radius=FILLET004_R)

    # Fillet005
    fillet005_edges = [part.edges().sort_by_distance(p)[0] for p in [
        (-11.783284, 66.01268, 7.5),
    ]]
    fillet(fillet005_edges, radius=FILLET005_R)


solid = part.part
